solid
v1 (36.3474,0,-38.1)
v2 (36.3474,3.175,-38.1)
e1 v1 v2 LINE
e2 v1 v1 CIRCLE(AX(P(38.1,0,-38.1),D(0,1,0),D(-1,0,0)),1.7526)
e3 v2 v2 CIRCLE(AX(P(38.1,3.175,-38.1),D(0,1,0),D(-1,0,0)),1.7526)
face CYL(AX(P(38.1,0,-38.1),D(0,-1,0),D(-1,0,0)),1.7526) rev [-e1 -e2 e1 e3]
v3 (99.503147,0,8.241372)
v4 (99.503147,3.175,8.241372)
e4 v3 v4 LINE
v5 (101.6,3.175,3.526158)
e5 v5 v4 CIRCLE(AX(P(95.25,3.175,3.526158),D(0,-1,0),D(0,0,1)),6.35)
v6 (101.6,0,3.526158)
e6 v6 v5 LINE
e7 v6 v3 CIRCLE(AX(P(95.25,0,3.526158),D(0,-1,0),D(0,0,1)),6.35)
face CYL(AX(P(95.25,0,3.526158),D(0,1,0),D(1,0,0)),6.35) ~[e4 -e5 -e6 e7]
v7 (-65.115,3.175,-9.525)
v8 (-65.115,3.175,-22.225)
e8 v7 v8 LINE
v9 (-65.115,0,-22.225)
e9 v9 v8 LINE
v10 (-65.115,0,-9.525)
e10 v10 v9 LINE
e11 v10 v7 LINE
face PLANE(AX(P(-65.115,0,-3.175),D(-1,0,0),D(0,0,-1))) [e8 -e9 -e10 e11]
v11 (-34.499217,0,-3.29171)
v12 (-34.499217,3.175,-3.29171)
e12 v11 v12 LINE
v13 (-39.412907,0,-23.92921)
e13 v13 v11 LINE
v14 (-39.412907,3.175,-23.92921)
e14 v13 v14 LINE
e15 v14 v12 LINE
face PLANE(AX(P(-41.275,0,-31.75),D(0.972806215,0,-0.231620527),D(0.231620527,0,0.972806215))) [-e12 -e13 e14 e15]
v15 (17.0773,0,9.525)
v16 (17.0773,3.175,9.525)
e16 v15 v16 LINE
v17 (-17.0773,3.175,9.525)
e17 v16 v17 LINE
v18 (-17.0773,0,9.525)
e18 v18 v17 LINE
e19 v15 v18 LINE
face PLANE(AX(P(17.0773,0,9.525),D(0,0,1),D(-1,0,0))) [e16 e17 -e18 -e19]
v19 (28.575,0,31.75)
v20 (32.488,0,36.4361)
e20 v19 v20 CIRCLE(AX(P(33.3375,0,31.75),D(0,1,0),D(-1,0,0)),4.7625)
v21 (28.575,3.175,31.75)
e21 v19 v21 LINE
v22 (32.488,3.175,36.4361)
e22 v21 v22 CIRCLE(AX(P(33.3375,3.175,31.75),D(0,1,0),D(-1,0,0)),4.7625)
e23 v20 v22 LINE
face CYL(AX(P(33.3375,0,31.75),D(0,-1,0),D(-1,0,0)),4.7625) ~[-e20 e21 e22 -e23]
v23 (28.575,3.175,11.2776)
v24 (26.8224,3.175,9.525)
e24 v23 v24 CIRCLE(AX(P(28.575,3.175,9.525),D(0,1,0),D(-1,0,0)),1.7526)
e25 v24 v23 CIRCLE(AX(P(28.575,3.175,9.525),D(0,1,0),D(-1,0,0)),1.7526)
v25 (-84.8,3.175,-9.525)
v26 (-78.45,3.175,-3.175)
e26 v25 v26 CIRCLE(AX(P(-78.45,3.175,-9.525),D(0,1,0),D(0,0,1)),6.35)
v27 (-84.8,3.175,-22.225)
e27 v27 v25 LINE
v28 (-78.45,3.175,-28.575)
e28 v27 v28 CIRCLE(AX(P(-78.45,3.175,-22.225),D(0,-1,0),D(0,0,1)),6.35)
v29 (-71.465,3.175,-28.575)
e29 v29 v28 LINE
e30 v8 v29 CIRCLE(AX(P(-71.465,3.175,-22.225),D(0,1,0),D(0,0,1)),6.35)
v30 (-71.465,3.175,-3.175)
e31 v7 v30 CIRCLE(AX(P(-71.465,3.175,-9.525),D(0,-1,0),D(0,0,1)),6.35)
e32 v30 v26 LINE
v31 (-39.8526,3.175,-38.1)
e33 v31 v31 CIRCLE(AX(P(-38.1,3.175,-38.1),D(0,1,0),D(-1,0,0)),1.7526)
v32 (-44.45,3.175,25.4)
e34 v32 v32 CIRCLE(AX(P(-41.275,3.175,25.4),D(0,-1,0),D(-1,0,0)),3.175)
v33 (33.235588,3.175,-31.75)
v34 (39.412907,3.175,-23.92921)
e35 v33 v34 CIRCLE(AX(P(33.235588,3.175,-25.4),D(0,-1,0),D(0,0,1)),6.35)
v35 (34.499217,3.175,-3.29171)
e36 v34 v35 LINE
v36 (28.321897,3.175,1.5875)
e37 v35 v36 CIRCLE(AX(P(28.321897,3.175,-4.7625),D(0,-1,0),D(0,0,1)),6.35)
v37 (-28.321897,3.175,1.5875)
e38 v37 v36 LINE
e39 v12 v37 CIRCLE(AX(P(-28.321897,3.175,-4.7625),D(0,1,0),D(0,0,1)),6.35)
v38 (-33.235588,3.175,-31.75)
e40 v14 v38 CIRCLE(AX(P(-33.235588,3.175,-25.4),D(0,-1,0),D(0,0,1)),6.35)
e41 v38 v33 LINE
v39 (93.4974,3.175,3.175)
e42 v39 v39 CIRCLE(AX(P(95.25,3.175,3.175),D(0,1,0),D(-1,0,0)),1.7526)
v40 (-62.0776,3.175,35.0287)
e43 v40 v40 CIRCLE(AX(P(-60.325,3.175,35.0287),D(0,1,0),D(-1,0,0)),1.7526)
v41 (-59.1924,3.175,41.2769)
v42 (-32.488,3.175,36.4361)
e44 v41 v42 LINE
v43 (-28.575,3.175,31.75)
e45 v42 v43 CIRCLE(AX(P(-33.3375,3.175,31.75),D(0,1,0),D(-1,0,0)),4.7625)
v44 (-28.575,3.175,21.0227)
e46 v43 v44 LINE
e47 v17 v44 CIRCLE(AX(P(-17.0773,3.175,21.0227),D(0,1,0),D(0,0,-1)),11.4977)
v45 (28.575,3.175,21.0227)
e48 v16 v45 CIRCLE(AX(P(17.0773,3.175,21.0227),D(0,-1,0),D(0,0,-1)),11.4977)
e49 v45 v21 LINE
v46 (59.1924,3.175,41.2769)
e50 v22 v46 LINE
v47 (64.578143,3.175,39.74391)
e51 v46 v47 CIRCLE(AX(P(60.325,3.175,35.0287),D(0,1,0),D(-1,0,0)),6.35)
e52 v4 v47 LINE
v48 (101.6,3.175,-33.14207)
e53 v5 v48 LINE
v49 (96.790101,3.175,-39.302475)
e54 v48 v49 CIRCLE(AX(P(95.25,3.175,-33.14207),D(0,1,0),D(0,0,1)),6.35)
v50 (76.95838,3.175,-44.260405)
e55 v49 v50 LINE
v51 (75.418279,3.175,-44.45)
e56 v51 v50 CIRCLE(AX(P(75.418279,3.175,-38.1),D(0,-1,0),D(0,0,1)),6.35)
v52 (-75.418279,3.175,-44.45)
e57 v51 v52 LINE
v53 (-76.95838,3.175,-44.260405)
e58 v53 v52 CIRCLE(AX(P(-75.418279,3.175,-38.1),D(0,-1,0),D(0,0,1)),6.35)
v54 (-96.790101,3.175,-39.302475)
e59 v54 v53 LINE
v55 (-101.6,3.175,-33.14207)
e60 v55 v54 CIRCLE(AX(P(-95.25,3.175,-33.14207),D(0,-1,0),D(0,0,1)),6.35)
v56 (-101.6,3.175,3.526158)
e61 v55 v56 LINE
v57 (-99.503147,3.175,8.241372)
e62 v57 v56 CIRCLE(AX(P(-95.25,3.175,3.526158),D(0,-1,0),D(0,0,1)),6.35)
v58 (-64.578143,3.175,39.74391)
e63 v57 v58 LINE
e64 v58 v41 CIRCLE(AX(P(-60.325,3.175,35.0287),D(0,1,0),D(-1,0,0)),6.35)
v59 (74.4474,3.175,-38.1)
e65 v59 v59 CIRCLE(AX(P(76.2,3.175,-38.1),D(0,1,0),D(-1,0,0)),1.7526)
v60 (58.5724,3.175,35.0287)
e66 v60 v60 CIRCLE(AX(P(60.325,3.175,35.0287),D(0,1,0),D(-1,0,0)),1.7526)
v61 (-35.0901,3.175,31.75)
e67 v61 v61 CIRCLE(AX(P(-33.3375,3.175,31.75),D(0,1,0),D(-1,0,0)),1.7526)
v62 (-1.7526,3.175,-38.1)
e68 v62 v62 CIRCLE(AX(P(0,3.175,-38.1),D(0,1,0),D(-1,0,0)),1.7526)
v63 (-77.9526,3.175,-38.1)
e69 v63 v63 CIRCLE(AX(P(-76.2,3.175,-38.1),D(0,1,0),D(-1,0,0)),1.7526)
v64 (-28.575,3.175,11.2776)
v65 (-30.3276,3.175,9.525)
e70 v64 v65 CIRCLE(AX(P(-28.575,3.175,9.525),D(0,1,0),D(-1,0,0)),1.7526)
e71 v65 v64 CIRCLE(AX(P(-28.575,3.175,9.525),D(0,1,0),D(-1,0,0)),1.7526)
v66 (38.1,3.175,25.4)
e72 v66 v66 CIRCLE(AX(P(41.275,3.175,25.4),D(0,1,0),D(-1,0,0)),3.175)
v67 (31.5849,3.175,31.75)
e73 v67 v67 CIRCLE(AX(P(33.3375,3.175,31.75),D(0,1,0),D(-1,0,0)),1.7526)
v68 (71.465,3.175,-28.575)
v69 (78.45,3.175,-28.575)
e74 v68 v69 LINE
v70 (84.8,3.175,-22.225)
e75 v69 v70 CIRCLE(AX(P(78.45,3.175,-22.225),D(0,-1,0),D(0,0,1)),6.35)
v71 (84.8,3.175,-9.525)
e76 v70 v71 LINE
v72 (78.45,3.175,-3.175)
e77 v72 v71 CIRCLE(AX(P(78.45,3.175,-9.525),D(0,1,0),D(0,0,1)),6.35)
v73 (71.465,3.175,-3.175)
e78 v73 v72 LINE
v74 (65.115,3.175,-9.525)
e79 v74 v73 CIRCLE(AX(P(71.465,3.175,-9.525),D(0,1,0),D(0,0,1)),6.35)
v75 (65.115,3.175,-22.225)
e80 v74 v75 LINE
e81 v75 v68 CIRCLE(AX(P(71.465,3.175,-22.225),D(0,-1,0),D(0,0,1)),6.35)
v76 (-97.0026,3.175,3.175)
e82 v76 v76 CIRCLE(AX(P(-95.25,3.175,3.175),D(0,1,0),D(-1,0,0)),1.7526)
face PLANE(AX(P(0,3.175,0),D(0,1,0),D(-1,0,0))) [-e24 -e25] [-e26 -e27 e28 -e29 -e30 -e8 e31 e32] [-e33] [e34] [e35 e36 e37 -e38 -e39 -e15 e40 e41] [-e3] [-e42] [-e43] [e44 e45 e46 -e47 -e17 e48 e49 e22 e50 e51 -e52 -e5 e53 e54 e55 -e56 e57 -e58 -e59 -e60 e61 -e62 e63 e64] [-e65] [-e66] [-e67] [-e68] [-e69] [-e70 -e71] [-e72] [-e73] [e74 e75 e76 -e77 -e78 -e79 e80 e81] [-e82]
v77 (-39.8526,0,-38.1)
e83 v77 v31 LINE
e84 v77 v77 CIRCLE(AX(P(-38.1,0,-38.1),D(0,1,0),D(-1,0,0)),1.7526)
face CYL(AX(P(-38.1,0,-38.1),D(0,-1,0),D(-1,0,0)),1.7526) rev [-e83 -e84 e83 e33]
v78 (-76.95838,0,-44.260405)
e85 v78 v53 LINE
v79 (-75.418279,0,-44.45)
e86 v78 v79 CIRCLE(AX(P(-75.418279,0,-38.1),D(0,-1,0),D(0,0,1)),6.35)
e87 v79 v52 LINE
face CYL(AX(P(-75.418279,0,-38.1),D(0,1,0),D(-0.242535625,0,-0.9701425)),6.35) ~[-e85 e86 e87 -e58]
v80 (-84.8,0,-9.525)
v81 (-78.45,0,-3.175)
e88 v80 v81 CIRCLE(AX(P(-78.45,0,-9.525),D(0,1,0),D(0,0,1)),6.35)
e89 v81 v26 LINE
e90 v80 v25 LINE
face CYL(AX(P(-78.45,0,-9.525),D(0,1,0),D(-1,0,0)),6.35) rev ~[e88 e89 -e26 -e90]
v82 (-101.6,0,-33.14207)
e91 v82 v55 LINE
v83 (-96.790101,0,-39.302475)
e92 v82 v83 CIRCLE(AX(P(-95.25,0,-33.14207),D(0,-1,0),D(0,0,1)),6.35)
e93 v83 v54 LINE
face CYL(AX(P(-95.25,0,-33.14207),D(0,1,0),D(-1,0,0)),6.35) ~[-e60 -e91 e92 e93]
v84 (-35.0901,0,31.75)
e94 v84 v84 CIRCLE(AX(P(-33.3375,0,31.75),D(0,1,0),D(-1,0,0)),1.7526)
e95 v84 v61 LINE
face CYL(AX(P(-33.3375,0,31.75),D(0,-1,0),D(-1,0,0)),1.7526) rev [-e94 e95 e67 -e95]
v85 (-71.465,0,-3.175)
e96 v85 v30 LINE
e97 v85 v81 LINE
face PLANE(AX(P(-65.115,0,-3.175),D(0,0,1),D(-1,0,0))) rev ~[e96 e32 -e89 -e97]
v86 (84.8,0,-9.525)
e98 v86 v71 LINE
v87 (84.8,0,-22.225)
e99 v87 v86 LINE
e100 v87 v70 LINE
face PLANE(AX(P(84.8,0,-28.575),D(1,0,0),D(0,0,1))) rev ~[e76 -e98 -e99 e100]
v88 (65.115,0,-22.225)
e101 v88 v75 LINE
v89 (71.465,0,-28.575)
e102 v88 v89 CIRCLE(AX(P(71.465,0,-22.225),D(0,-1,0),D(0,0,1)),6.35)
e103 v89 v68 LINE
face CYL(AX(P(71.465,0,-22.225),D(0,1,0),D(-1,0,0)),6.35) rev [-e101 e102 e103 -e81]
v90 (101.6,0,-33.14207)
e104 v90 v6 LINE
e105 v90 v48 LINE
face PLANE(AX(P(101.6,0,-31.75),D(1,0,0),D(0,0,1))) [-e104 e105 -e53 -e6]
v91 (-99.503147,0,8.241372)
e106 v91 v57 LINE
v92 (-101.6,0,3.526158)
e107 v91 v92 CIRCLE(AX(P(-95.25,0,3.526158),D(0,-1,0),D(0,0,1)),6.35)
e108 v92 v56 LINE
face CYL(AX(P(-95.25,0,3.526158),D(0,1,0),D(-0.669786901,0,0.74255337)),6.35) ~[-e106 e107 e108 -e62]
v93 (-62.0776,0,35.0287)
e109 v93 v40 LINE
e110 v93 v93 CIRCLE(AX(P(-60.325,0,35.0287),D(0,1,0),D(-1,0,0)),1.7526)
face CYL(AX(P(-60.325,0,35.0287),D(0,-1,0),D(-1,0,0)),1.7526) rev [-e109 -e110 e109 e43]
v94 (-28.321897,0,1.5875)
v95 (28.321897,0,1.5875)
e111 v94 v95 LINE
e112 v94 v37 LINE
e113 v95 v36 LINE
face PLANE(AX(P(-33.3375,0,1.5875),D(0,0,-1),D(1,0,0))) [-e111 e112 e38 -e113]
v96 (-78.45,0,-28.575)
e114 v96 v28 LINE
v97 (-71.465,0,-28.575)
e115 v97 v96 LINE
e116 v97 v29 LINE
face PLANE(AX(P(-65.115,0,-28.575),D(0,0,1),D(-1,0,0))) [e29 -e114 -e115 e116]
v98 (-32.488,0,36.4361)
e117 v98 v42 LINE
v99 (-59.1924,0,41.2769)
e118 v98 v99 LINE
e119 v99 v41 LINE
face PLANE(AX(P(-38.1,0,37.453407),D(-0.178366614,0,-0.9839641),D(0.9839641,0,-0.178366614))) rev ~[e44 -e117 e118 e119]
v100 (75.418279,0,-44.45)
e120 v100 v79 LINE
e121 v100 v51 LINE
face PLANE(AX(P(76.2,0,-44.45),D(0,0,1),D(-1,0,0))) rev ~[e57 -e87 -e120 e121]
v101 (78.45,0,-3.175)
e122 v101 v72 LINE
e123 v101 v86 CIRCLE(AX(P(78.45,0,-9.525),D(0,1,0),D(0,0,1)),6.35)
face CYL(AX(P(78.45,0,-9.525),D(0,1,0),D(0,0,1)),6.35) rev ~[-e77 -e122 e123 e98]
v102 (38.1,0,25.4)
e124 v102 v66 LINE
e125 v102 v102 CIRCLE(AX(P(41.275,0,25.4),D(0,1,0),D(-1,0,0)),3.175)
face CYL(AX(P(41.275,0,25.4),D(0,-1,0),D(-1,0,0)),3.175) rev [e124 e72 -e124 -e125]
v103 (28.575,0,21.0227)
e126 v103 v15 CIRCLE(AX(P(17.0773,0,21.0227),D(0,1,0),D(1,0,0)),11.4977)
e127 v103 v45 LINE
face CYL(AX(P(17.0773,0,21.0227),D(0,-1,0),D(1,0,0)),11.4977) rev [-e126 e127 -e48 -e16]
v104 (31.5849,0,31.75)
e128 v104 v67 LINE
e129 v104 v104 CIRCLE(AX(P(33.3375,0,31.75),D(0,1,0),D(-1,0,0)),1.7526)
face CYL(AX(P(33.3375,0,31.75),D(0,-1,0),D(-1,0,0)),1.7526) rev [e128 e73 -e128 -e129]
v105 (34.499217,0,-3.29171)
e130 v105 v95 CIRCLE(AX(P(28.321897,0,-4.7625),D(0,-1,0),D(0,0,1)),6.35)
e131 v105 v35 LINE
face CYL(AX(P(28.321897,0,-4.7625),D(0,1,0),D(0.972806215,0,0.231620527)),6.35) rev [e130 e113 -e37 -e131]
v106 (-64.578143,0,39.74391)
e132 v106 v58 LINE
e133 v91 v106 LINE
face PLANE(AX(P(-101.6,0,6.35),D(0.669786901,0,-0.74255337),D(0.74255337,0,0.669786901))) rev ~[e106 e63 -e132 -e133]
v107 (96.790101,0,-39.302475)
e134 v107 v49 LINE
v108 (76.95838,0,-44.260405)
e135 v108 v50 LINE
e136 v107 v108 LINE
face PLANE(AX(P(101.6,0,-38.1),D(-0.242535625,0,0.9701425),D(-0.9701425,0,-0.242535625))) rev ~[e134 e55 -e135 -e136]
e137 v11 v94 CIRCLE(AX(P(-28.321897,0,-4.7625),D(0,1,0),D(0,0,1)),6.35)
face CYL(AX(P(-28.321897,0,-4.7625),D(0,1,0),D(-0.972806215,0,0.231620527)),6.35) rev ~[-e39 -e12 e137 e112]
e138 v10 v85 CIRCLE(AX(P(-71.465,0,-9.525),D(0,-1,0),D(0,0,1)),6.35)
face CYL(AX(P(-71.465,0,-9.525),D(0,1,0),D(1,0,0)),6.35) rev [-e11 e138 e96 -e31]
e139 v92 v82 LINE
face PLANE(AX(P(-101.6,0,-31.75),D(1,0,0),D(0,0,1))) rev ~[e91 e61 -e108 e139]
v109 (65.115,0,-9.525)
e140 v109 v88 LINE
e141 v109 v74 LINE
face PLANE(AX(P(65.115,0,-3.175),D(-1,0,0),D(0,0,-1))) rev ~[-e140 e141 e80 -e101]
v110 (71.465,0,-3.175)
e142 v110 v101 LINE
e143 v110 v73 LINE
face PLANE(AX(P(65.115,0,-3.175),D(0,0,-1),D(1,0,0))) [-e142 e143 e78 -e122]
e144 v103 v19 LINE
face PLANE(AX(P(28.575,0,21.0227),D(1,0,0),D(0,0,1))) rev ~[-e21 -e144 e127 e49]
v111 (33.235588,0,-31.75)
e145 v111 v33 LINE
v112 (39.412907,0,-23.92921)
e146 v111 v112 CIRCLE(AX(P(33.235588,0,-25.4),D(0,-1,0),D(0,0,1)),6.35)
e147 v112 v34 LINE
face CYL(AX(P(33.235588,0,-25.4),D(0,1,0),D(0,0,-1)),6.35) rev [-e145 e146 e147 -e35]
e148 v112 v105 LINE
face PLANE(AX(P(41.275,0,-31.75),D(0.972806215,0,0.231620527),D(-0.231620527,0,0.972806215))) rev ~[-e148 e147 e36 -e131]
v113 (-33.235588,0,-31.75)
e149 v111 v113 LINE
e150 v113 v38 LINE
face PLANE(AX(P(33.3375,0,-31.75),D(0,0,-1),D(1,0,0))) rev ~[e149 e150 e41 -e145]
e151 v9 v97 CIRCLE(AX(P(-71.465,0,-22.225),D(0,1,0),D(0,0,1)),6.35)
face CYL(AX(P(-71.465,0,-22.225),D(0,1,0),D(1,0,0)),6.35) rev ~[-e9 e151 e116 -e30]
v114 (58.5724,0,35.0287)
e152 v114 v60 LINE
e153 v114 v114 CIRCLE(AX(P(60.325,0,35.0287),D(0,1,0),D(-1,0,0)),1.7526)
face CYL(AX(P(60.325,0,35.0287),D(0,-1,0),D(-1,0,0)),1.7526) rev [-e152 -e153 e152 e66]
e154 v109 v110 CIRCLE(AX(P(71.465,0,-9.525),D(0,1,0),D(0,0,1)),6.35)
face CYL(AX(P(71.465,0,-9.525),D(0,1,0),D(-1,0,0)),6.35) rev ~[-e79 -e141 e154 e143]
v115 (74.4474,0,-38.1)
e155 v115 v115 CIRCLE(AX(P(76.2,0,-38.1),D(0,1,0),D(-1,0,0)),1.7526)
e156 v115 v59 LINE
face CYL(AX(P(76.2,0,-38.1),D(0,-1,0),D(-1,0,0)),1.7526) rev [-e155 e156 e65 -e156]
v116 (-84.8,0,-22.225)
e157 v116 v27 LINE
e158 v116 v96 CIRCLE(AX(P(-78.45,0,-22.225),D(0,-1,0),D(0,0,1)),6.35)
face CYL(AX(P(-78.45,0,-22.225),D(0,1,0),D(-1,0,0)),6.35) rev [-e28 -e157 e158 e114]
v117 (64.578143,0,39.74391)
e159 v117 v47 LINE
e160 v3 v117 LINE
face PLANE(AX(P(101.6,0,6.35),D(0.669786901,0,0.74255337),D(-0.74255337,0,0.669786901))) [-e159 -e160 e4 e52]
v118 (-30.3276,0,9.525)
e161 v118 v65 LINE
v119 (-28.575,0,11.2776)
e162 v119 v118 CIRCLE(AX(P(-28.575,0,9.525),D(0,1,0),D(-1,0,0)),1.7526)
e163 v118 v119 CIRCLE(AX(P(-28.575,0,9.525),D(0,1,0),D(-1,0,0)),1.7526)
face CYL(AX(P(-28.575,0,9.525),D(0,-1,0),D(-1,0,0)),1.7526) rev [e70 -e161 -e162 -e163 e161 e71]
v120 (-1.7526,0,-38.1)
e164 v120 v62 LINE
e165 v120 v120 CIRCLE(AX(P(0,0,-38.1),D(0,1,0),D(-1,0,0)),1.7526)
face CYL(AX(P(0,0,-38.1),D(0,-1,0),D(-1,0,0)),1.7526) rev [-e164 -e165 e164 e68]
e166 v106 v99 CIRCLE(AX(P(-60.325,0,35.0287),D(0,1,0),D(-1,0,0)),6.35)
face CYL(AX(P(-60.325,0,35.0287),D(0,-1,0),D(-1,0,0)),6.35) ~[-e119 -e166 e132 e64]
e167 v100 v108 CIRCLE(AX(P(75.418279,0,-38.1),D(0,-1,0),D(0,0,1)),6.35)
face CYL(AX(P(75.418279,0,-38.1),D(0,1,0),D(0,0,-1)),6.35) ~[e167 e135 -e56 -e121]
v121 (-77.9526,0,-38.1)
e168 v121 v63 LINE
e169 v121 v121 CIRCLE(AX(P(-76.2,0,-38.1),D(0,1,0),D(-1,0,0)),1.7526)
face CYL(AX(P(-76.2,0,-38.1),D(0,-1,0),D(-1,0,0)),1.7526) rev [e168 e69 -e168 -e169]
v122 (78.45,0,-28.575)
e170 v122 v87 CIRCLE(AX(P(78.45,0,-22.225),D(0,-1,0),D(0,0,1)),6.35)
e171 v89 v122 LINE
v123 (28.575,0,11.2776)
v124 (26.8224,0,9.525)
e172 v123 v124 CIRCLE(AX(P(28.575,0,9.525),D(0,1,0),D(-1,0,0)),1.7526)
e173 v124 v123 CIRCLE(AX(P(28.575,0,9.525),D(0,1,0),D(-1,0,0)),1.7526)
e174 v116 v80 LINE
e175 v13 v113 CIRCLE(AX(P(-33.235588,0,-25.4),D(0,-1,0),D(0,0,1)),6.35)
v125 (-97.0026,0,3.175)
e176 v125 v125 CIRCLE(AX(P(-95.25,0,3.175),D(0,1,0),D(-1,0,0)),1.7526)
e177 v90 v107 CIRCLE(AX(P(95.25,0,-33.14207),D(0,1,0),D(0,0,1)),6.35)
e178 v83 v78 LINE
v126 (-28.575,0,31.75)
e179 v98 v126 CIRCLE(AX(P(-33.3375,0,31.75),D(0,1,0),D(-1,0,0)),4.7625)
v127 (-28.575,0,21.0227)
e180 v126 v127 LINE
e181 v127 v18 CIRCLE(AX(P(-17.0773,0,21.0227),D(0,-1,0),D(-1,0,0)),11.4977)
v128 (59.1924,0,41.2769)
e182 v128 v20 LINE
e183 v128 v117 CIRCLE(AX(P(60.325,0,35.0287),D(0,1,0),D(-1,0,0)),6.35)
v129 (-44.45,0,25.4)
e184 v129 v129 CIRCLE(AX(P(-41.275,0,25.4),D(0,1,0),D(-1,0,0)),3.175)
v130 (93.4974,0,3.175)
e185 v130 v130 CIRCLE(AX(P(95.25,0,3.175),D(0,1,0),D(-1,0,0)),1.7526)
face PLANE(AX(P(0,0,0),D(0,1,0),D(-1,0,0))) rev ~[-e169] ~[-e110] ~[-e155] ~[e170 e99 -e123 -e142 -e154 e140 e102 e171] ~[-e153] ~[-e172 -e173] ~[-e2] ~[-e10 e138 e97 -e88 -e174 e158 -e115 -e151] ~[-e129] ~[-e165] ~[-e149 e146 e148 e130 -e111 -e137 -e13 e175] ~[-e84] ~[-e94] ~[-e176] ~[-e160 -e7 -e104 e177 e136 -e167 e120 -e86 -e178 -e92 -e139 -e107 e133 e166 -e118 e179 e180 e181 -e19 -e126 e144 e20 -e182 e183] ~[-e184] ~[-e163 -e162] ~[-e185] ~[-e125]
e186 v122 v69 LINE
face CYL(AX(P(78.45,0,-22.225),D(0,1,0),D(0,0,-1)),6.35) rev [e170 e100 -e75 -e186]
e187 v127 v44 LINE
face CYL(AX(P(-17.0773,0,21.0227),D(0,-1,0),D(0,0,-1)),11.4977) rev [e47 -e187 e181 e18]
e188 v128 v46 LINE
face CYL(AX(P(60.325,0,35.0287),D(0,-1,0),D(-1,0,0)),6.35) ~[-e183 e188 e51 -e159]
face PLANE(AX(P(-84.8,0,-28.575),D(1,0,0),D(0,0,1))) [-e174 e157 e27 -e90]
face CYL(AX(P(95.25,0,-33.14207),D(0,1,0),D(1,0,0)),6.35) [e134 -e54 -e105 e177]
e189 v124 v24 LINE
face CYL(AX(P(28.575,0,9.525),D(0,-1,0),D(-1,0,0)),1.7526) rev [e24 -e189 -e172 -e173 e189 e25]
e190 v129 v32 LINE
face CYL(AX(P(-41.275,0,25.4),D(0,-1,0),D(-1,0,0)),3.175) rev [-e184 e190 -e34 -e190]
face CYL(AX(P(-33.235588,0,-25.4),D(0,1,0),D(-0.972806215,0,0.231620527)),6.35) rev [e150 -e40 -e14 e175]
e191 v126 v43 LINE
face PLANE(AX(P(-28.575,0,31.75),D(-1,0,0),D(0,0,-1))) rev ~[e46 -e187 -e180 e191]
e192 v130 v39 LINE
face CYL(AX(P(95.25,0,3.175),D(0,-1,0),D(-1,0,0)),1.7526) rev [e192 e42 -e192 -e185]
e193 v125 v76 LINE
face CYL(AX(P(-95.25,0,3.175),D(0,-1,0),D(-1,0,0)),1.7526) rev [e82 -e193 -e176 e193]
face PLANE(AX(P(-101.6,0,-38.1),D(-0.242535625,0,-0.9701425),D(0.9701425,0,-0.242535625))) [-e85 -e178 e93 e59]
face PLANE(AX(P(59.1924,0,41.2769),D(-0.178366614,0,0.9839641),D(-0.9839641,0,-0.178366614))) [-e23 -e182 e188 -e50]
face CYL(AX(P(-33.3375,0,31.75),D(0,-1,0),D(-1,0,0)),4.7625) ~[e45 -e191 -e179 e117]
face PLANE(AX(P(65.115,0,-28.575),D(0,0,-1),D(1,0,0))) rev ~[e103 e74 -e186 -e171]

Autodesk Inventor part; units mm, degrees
ref_plane "YZ Plane" through (0, 0, 0) normal (1, 0, 0) x (0, 1, 0)
ref_plane "XZ Plane" through (0, 0, 0) normal (0, 1, 0) x (-1, 0, 0)
ref_plane "XY Plane" through (0, 0, 0) normal (0, 0, 1) x (1, 0, 0)
sketch "Sketch1" plane through (0, 0, 0) normal (0, 1, 0) x (-1, 0, 0)
  line L0 (101.6, 38.1) -> (-101.6, 38.1) construction
  line L1 (-101.6, 38.1) -> (-101.6, -38.1) construction
  line L2 (-101.6, -38.1) -> (101.6, -38.1) construction
  line L3 (101.6, -38.1) -> (101.6, 38.1) construction
  line L4 (101.6, 38.1) -> (-101.6, -38.1) construction
  line L5 (-101.6, 38.1) -> (101.6, -38.1) construction
  line L6 (-28.575, 66.675) -> (28.575, 66.675) construction
  line L7 (28.575, 66.675) -> (28.575, 9.525)
  line L8 (28.575, 9.525) -> (-28.575, 9.525) construction
  line L9 (-28.575, 9.525) -> (-28.575, 66.675)
  line L10 (-28.575, 66.675) -> (28.575, 9.525) construction
  line L11 (28.575, 66.675) -> (-28.575, 9.525) construction
  circle A0 centre (-38.1, 50.8) radius 3.175
  line L12 (0, 38.1) -> (0, -38.1) construction
  circle A1 centre (-38.1, 50.8) radius 9.525
  line L13 (-38.1, 60.325) -> (-28.575, 60.325)
  circle A2 centre (38.1, 50.8) radius 3.175
  circle A3 centre (38.1, 50.8) radius 9.525
  line L14 (38.1, 60.325) -> (28.575, 60.325)
  circle A4 centre (-76.2, -38.1) radius 1.7526
  circle A5 centre (-95.25, 3.175) radius 1.7526
  circle A6 centre (76.2, -38.1) radius 1.7526
  circle A7 centre (95.25, 3.175) radius 1.7526
  line L15 (-101.6, -38.1) -> (-101.6, 6.35)
  line L16 (-101.6, 6.35) -> (-44.4797, 57.8728)
  line L17 (101.6, -38.1) -> (101.6, 6.35)
  line L18 (101.6, 6.35) -> (44.4797, 57.8728)
  line L19 (-42.6417, 42.4275) -> (-87.975, 1.5367) construction
  line L20 (-87.975, 1.5367) -> (-87.975, -38.1)
  line L21 (87.975, -38.1) -> (87.975, 1.5367)
  line L22 (87.975, 1.5367) -> (42.6417, 42.4275) construction
  line L23 (0, -38.1) -> (-95.25, -38.1) construction
  line L24 (0, -38.1) -> (95.25, -38.1) construction
  circle A8 centre (-60.325, 35.0287) radius 1.7526
  circle A9 centre (-33.3375, 31.75) radius 1.7526
  line L25 (-38.1, 0) -> (-38.1, 41.275)
  line L26 (-38.1, 0) -> (0, 0) construction
  circle A10 centre (60.325, 35.0287) radius 1.7526
  circle A11 centre (33.3375, 31.75) radius 1.7526
  line L27 (38.1, 0) -> (38.1, 41.275)
  line L28 (38.1, 0) -> (0, 0) construction
  line L29 (-87.975, 0) -> (-65.115, 0)
  line L30 (-65.115, 0) -> (-65.115, -31.75)
  line L31 (-65.115, -31.75) -> (-87.975, -31.75)
  line L32 (-101.6, -38.1) -> (101.6, -38.1) construction
  line L33 (101.6, -38.1) -> (101.6, 19.05)
  line L34 (101.6, 19.05) -> (-101.6, 19.05) construction
  line L35 (-101.6, 19.05) -> (-101.6, -38.1)
  line L36 (-101.6, 19.05) -> (-87.5203, 19.05) construction
  line L37 (87.5203, 19.05) -> (101.6, 19.05) construction
  circle A12 centre (-38.1, 0) radius 3.175 construction
  circle A13 centre (-38.1, 0) radius 6.35 construction
  circle A14 centre (38.1, 0) radius 3.175 construction
  circle A15 centre (38.1, 0) radius 6.35 construction
  circle A16 centre (28.575, 9.525) radius 1.7526
  circle A17 centre (28.575, 9.525) radius 4.7625
  arc A18 (17.0773, 9.525) -> (28.575, 21.0227) centre (17.0773, 21.0227) ccw
  circle A19 centre (-28.575, 9.525) radius 1.7526
  circle A20 centre (-28.575, 9.525) radius 4.7625
  arc A21 (-28.575, 21.0227) -> (-17.0773, 9.525) centre (-17.0773, 21.0227) ccw
  arc A22 (31.4325, 5.715) -> (38.1, 19.05) centre (21.4312, 19.05) ccw
  arc A23 (-38.1, 19.05) -> (-31.4325, 5.715) centre (-21.4312, 19.05) ccw
  line L38 (-61.94, -38.1) -> (-61.94, 25.0204)
  line L39 (87.975, 0) -> (65.115, 0)
  line L40 (65.115, 0) -> (65.115, -31.75)
  line L41 (65.115, -31.75) -> (87.975, -31.75)
  line L42 (61.94, -38.1) -> (61.94, 25.0204)
  line L43 (-28.575, 4.7625) -> (28.575, 4.7625)
  line L44 (101.6, -31.75) -> (-101.6, -31.75)
  line L45 (-101.6, -31.75) -> (-101.6, -44.45) construction
  line L46 (-101.6, -44.45) -> (101.6, -44.45)
  line L47 (101.6, -44.45) -> (101.6, -31.75) construction
  circle A24 centre (0, -38.1) radius 1.7526
  circle A25 centre (38.1, -38.1) radius 1.7526
  circle A26 centre (-38.1, -38.1) radius 1.7526
  line L48 (101.6, -38.1) -> (76.2, -44.45)
  line L49 (-101.6, -38.1) -> (-76.2, -44.45)
  line L50 (76.2, -38.1) -> (76.2, -44.45) construction
  line L51 (-76.2, -38.1) -> (-76.2, -44.45) construction
  line L52 (59.1924, 41.2769) -> (32.488, 36.4361)
  circle A27 centre (60.325, 35.0287) radius 6.35
  circle A28 centre (33.3375, 31.75) radius 4.7625
  line L53 (-59.1924, 41.2769) -> (-32.488, 36.4361)
  circle A29 centre (-60.325, 35.0287) radius 6.35
  circle A30 centre (-33.3375, 31.75) radius 4.7625
  line L54 (-87.975, 0) -> (-65.115, 0)
  line L55 (-65.115, 0) -> (-65.115, -3.175)
  line L56 (-65.115, -3.175) -> (-87.975, -3.175)
  line L57 (-87.975, -3.175) -> (-87.975, 0)
  line L58 (-65.115, -15.875) -> (-87.975, -15.875) construction
  line L59 (-65.115, -28.575) -> (-87.975, -28.575)
  line L60 (-84.8, -38.1) -> (-84.8, 0.1248)
  line L61 (65.115, -3.175) -> (87.975, -3.175)
  line L62 (65.115, -15.875) -> (87.975, -15.875) construction
  line L63 (65.115, -28.575) -> (87.975, -28.575)
  line L64 (84.8, -38.1) -> (84.8, 0.1248)
  line L65 (-33.3375, -31.75) -> (33.3375, -31.75)
  line L66 (33.3375, -31.75) -> (33.3375, 1.5875) construction
  line L67 (33.3375, 1.5875) -> (-33.3375, 1.5875)
  line L68 (-33.3375, 1.5875) -> (-33.3375, -31.75) construction
  circle A31 centre (41.275, 25.4) radius 3.175
  circle A32 centre (-41.275, 25.4) radius 3.175
  line L69 (-17.0773, 9.525) -> (17.0773, 9.525)
  line L70 (0, -31.75) -> (-41.275, -31.75)
  line L71 (-41.275, -31.75) -> (-33.3375, 1.5875)
  line L72 (41.275, -31.75) -> (33.3375, 1.5875)
  point P0 (28.575, 38.1)
  point P1 (-28.575, 38.1)
  point P2 (28.575, 60.325)
  point P3 (44.4797, 57.8728)
  point P4 (101.6, -15.875)
  point P5 (38.1, 41.275)
  point P6 (-87.975, -31.75)
  point P7 (-101.6, 6.35)
  point P8 (101.6, 6.35)
  point P9 (31.75, 0)
  point P10 (38.1, 6.35)
  point P11 (-38.1, 6.35)
  point P12 (-31.75, 0)
  point P13 (87.975, 0)
  point P14 (61.94, 25.0204)
  point P15 (-17.0773, 9.525)
  point P16 (-28.575, 21.0227)
  point P17 (-38.1, 19.05)
  point P18 (-31.4325, 5.715)
  point P19 (-21.8502, 0)
  point P20 (21.8502, 0)
  point P21 (-25.2074, 12.8926)
  point P22 (-28.575, 14.2875)
  point P23 (-23.8125, 9.525)
  point P24 (-28.575, 50.8)
  point P25 (25.2074, 12.8926)
  point P26 (28.575, 14.2875)
  point P27 (23.8125, 9.525)
  point P28 (28.575, 50.8)
  point P29 (26.8224, 9.525)
  point P30 (28.575, 11.2776)
  point P31 (61.94, -31.75)
  point P32 (-61.94, -31.75)
  point P33 (-28.575, 31.75)
  point P34 (-64.5781, 39.7439)
  point P35 (64.5781, 39.7439)
  point P36 (28.575, 31.75)
  point P37 (-84.8, -3.175)
  point P38 (-84.8, -28.575)
  point P39 (84.8, -3.175)
  point P40 (84.8, -28.575)
  point P41 (33.3375, -31.75)
  point P42 (-101.6, -31.75)
  point P43 (-26.8224, 9.525)
  point P44 (-28.575, 11.2776)
  point P45 (-39.8526, -38.1)
  point P46 (-36.3474, -38.1)
  point P47 (-1.7526, -38.1)
  point P48 (1.7526, -38.1)
  point P49 (36.3474, -38.1)
  point P50 (39.8526, -38.1)
  point P51 (41.275, -31.75)
  dimension "d0" = 203.2
  dimension "d1" = 76.2
  dimension "d4" = 57.15
  dimension "d6" = 6.35
  dimension "d7" = 38.1
  dimension "d8" = 19.05
  dimension "d10" = 3.5052
  dimension "d11" = 3.5052
  dimension "d12" = 0
  dimension "d14" = 25.4
  dimension "d15" = 6.35
  dimension "d20" = 50.8
  dimension "d21" = 41.275
  dimension "d22" = 44.45
  dimension "d24" = 12.7
  dimension "d25" = 13.625
  dimension "d26" = 12.7
  dimension "d27" = 13.625
  dimension "d31" = 3.5052
  dimension "d32" = 3.5052
  dimension "d33" = 6.35
  dimension "d34" = 31.75
  dimension "d35" = 4.7625
  dimension "d36" = 22.225
  dimension "d37" = 9.525
  dimension "d39" = 31.75
  dimension "d40" = 6.35
  dimension "d42" = 57.15
  dimension "d43" = 6.35
  dimension "d44" = 9.525
  dimension "d45" = 9.525
  dimension "d46" = 12.7
  dimension "d104" = 3.5052
  dimension "d105" = 9.525
  dimension "d106" = 3.175
  dimension "d107" = 22.86
  dimension "d123" = 88.9
  dimension "d124" = 12.7
  dimension "d125" = 3.5052
  dimension "d126" = 3.5052
  dimension "d127" = 38.1
  dimension "d128" = 28.575
  dimension "d129" = 3.175
  dimension "d130" = 3.175
  dimension "d131" = 33.3375
  dimension "d132" = 33.3375
  dimension "d133" = 33.3375
  dimension "d135" = 6.35
  dimension "d138" = 6.35
  dimension "d139" = 3.175
  dimension "d140" = 41.275
extrude "Extrusion1" add sketch "Sketch1" along normal blind 3.175 contours A28 L27 A22 A17 L7 | A28 | L7 A17 A18 | L52 L27 A28 | L27 L52 A27 L18 L17 L44 L21 L39 L40 L72 L67 L71 L30 L29 L20 L15 L16 A29 L53 L25 A23 A20 L43 A17 A22 | A27 | A17 | A17 L43 A20 A21 L69 A18 | L17 L48 L46 L49 L15 L44 L31 L41 | A20 | L41 L64 L63 L21 | A23 L25 A30 L9 A20 | A20 L9 A21 | L63 L64 L61 L21 | L41 L40 L63 L64 | L61 L64 L39 L21 | A30 | L61 L40 L39 L64 | L25 L53 A30 | L20 L59 L60 L31 | A29 | L20 L56 L60 L59 | L60 L59 L30 L31 | L20 L29 L60 L56 | L60 L29 L30 L56
fillet "Fillet1" radius 6.35 14 edges at (101.6, 1.5875, -38.1) (101.6, 1.5875, 6.35) (-101.6, 1.5875, 6.35) (76.2, 1.5875, -44.45) (-76.2, 1.5875, -44.45) (-101.6, 1.5875, -38.1) (-84.8, 1.5875, -28.575) (-84.8, 1.5875, -3.175) (-65.115, 1.5875, -28.575) (-65.115, 1.5875, -3.175) (65.115, 1.5875, -28.575) (84.8, 1.5875, -28.575) (84.8, 1.5875, -3.175) (65.115, 1.5875, -3.175)
fillet "Fillet5" radius 6.35 4 edges at (33.3375, 1.5875, 1.5875) (-33.3375, 1.5875, 1.5875) (-41.275, 1.5875, -31.75) (41.275, 1.5875, -31.75)
equation "\"d35\" = 0.5 * d37"
properties part number "Chassis" material "UHMW, Black"
